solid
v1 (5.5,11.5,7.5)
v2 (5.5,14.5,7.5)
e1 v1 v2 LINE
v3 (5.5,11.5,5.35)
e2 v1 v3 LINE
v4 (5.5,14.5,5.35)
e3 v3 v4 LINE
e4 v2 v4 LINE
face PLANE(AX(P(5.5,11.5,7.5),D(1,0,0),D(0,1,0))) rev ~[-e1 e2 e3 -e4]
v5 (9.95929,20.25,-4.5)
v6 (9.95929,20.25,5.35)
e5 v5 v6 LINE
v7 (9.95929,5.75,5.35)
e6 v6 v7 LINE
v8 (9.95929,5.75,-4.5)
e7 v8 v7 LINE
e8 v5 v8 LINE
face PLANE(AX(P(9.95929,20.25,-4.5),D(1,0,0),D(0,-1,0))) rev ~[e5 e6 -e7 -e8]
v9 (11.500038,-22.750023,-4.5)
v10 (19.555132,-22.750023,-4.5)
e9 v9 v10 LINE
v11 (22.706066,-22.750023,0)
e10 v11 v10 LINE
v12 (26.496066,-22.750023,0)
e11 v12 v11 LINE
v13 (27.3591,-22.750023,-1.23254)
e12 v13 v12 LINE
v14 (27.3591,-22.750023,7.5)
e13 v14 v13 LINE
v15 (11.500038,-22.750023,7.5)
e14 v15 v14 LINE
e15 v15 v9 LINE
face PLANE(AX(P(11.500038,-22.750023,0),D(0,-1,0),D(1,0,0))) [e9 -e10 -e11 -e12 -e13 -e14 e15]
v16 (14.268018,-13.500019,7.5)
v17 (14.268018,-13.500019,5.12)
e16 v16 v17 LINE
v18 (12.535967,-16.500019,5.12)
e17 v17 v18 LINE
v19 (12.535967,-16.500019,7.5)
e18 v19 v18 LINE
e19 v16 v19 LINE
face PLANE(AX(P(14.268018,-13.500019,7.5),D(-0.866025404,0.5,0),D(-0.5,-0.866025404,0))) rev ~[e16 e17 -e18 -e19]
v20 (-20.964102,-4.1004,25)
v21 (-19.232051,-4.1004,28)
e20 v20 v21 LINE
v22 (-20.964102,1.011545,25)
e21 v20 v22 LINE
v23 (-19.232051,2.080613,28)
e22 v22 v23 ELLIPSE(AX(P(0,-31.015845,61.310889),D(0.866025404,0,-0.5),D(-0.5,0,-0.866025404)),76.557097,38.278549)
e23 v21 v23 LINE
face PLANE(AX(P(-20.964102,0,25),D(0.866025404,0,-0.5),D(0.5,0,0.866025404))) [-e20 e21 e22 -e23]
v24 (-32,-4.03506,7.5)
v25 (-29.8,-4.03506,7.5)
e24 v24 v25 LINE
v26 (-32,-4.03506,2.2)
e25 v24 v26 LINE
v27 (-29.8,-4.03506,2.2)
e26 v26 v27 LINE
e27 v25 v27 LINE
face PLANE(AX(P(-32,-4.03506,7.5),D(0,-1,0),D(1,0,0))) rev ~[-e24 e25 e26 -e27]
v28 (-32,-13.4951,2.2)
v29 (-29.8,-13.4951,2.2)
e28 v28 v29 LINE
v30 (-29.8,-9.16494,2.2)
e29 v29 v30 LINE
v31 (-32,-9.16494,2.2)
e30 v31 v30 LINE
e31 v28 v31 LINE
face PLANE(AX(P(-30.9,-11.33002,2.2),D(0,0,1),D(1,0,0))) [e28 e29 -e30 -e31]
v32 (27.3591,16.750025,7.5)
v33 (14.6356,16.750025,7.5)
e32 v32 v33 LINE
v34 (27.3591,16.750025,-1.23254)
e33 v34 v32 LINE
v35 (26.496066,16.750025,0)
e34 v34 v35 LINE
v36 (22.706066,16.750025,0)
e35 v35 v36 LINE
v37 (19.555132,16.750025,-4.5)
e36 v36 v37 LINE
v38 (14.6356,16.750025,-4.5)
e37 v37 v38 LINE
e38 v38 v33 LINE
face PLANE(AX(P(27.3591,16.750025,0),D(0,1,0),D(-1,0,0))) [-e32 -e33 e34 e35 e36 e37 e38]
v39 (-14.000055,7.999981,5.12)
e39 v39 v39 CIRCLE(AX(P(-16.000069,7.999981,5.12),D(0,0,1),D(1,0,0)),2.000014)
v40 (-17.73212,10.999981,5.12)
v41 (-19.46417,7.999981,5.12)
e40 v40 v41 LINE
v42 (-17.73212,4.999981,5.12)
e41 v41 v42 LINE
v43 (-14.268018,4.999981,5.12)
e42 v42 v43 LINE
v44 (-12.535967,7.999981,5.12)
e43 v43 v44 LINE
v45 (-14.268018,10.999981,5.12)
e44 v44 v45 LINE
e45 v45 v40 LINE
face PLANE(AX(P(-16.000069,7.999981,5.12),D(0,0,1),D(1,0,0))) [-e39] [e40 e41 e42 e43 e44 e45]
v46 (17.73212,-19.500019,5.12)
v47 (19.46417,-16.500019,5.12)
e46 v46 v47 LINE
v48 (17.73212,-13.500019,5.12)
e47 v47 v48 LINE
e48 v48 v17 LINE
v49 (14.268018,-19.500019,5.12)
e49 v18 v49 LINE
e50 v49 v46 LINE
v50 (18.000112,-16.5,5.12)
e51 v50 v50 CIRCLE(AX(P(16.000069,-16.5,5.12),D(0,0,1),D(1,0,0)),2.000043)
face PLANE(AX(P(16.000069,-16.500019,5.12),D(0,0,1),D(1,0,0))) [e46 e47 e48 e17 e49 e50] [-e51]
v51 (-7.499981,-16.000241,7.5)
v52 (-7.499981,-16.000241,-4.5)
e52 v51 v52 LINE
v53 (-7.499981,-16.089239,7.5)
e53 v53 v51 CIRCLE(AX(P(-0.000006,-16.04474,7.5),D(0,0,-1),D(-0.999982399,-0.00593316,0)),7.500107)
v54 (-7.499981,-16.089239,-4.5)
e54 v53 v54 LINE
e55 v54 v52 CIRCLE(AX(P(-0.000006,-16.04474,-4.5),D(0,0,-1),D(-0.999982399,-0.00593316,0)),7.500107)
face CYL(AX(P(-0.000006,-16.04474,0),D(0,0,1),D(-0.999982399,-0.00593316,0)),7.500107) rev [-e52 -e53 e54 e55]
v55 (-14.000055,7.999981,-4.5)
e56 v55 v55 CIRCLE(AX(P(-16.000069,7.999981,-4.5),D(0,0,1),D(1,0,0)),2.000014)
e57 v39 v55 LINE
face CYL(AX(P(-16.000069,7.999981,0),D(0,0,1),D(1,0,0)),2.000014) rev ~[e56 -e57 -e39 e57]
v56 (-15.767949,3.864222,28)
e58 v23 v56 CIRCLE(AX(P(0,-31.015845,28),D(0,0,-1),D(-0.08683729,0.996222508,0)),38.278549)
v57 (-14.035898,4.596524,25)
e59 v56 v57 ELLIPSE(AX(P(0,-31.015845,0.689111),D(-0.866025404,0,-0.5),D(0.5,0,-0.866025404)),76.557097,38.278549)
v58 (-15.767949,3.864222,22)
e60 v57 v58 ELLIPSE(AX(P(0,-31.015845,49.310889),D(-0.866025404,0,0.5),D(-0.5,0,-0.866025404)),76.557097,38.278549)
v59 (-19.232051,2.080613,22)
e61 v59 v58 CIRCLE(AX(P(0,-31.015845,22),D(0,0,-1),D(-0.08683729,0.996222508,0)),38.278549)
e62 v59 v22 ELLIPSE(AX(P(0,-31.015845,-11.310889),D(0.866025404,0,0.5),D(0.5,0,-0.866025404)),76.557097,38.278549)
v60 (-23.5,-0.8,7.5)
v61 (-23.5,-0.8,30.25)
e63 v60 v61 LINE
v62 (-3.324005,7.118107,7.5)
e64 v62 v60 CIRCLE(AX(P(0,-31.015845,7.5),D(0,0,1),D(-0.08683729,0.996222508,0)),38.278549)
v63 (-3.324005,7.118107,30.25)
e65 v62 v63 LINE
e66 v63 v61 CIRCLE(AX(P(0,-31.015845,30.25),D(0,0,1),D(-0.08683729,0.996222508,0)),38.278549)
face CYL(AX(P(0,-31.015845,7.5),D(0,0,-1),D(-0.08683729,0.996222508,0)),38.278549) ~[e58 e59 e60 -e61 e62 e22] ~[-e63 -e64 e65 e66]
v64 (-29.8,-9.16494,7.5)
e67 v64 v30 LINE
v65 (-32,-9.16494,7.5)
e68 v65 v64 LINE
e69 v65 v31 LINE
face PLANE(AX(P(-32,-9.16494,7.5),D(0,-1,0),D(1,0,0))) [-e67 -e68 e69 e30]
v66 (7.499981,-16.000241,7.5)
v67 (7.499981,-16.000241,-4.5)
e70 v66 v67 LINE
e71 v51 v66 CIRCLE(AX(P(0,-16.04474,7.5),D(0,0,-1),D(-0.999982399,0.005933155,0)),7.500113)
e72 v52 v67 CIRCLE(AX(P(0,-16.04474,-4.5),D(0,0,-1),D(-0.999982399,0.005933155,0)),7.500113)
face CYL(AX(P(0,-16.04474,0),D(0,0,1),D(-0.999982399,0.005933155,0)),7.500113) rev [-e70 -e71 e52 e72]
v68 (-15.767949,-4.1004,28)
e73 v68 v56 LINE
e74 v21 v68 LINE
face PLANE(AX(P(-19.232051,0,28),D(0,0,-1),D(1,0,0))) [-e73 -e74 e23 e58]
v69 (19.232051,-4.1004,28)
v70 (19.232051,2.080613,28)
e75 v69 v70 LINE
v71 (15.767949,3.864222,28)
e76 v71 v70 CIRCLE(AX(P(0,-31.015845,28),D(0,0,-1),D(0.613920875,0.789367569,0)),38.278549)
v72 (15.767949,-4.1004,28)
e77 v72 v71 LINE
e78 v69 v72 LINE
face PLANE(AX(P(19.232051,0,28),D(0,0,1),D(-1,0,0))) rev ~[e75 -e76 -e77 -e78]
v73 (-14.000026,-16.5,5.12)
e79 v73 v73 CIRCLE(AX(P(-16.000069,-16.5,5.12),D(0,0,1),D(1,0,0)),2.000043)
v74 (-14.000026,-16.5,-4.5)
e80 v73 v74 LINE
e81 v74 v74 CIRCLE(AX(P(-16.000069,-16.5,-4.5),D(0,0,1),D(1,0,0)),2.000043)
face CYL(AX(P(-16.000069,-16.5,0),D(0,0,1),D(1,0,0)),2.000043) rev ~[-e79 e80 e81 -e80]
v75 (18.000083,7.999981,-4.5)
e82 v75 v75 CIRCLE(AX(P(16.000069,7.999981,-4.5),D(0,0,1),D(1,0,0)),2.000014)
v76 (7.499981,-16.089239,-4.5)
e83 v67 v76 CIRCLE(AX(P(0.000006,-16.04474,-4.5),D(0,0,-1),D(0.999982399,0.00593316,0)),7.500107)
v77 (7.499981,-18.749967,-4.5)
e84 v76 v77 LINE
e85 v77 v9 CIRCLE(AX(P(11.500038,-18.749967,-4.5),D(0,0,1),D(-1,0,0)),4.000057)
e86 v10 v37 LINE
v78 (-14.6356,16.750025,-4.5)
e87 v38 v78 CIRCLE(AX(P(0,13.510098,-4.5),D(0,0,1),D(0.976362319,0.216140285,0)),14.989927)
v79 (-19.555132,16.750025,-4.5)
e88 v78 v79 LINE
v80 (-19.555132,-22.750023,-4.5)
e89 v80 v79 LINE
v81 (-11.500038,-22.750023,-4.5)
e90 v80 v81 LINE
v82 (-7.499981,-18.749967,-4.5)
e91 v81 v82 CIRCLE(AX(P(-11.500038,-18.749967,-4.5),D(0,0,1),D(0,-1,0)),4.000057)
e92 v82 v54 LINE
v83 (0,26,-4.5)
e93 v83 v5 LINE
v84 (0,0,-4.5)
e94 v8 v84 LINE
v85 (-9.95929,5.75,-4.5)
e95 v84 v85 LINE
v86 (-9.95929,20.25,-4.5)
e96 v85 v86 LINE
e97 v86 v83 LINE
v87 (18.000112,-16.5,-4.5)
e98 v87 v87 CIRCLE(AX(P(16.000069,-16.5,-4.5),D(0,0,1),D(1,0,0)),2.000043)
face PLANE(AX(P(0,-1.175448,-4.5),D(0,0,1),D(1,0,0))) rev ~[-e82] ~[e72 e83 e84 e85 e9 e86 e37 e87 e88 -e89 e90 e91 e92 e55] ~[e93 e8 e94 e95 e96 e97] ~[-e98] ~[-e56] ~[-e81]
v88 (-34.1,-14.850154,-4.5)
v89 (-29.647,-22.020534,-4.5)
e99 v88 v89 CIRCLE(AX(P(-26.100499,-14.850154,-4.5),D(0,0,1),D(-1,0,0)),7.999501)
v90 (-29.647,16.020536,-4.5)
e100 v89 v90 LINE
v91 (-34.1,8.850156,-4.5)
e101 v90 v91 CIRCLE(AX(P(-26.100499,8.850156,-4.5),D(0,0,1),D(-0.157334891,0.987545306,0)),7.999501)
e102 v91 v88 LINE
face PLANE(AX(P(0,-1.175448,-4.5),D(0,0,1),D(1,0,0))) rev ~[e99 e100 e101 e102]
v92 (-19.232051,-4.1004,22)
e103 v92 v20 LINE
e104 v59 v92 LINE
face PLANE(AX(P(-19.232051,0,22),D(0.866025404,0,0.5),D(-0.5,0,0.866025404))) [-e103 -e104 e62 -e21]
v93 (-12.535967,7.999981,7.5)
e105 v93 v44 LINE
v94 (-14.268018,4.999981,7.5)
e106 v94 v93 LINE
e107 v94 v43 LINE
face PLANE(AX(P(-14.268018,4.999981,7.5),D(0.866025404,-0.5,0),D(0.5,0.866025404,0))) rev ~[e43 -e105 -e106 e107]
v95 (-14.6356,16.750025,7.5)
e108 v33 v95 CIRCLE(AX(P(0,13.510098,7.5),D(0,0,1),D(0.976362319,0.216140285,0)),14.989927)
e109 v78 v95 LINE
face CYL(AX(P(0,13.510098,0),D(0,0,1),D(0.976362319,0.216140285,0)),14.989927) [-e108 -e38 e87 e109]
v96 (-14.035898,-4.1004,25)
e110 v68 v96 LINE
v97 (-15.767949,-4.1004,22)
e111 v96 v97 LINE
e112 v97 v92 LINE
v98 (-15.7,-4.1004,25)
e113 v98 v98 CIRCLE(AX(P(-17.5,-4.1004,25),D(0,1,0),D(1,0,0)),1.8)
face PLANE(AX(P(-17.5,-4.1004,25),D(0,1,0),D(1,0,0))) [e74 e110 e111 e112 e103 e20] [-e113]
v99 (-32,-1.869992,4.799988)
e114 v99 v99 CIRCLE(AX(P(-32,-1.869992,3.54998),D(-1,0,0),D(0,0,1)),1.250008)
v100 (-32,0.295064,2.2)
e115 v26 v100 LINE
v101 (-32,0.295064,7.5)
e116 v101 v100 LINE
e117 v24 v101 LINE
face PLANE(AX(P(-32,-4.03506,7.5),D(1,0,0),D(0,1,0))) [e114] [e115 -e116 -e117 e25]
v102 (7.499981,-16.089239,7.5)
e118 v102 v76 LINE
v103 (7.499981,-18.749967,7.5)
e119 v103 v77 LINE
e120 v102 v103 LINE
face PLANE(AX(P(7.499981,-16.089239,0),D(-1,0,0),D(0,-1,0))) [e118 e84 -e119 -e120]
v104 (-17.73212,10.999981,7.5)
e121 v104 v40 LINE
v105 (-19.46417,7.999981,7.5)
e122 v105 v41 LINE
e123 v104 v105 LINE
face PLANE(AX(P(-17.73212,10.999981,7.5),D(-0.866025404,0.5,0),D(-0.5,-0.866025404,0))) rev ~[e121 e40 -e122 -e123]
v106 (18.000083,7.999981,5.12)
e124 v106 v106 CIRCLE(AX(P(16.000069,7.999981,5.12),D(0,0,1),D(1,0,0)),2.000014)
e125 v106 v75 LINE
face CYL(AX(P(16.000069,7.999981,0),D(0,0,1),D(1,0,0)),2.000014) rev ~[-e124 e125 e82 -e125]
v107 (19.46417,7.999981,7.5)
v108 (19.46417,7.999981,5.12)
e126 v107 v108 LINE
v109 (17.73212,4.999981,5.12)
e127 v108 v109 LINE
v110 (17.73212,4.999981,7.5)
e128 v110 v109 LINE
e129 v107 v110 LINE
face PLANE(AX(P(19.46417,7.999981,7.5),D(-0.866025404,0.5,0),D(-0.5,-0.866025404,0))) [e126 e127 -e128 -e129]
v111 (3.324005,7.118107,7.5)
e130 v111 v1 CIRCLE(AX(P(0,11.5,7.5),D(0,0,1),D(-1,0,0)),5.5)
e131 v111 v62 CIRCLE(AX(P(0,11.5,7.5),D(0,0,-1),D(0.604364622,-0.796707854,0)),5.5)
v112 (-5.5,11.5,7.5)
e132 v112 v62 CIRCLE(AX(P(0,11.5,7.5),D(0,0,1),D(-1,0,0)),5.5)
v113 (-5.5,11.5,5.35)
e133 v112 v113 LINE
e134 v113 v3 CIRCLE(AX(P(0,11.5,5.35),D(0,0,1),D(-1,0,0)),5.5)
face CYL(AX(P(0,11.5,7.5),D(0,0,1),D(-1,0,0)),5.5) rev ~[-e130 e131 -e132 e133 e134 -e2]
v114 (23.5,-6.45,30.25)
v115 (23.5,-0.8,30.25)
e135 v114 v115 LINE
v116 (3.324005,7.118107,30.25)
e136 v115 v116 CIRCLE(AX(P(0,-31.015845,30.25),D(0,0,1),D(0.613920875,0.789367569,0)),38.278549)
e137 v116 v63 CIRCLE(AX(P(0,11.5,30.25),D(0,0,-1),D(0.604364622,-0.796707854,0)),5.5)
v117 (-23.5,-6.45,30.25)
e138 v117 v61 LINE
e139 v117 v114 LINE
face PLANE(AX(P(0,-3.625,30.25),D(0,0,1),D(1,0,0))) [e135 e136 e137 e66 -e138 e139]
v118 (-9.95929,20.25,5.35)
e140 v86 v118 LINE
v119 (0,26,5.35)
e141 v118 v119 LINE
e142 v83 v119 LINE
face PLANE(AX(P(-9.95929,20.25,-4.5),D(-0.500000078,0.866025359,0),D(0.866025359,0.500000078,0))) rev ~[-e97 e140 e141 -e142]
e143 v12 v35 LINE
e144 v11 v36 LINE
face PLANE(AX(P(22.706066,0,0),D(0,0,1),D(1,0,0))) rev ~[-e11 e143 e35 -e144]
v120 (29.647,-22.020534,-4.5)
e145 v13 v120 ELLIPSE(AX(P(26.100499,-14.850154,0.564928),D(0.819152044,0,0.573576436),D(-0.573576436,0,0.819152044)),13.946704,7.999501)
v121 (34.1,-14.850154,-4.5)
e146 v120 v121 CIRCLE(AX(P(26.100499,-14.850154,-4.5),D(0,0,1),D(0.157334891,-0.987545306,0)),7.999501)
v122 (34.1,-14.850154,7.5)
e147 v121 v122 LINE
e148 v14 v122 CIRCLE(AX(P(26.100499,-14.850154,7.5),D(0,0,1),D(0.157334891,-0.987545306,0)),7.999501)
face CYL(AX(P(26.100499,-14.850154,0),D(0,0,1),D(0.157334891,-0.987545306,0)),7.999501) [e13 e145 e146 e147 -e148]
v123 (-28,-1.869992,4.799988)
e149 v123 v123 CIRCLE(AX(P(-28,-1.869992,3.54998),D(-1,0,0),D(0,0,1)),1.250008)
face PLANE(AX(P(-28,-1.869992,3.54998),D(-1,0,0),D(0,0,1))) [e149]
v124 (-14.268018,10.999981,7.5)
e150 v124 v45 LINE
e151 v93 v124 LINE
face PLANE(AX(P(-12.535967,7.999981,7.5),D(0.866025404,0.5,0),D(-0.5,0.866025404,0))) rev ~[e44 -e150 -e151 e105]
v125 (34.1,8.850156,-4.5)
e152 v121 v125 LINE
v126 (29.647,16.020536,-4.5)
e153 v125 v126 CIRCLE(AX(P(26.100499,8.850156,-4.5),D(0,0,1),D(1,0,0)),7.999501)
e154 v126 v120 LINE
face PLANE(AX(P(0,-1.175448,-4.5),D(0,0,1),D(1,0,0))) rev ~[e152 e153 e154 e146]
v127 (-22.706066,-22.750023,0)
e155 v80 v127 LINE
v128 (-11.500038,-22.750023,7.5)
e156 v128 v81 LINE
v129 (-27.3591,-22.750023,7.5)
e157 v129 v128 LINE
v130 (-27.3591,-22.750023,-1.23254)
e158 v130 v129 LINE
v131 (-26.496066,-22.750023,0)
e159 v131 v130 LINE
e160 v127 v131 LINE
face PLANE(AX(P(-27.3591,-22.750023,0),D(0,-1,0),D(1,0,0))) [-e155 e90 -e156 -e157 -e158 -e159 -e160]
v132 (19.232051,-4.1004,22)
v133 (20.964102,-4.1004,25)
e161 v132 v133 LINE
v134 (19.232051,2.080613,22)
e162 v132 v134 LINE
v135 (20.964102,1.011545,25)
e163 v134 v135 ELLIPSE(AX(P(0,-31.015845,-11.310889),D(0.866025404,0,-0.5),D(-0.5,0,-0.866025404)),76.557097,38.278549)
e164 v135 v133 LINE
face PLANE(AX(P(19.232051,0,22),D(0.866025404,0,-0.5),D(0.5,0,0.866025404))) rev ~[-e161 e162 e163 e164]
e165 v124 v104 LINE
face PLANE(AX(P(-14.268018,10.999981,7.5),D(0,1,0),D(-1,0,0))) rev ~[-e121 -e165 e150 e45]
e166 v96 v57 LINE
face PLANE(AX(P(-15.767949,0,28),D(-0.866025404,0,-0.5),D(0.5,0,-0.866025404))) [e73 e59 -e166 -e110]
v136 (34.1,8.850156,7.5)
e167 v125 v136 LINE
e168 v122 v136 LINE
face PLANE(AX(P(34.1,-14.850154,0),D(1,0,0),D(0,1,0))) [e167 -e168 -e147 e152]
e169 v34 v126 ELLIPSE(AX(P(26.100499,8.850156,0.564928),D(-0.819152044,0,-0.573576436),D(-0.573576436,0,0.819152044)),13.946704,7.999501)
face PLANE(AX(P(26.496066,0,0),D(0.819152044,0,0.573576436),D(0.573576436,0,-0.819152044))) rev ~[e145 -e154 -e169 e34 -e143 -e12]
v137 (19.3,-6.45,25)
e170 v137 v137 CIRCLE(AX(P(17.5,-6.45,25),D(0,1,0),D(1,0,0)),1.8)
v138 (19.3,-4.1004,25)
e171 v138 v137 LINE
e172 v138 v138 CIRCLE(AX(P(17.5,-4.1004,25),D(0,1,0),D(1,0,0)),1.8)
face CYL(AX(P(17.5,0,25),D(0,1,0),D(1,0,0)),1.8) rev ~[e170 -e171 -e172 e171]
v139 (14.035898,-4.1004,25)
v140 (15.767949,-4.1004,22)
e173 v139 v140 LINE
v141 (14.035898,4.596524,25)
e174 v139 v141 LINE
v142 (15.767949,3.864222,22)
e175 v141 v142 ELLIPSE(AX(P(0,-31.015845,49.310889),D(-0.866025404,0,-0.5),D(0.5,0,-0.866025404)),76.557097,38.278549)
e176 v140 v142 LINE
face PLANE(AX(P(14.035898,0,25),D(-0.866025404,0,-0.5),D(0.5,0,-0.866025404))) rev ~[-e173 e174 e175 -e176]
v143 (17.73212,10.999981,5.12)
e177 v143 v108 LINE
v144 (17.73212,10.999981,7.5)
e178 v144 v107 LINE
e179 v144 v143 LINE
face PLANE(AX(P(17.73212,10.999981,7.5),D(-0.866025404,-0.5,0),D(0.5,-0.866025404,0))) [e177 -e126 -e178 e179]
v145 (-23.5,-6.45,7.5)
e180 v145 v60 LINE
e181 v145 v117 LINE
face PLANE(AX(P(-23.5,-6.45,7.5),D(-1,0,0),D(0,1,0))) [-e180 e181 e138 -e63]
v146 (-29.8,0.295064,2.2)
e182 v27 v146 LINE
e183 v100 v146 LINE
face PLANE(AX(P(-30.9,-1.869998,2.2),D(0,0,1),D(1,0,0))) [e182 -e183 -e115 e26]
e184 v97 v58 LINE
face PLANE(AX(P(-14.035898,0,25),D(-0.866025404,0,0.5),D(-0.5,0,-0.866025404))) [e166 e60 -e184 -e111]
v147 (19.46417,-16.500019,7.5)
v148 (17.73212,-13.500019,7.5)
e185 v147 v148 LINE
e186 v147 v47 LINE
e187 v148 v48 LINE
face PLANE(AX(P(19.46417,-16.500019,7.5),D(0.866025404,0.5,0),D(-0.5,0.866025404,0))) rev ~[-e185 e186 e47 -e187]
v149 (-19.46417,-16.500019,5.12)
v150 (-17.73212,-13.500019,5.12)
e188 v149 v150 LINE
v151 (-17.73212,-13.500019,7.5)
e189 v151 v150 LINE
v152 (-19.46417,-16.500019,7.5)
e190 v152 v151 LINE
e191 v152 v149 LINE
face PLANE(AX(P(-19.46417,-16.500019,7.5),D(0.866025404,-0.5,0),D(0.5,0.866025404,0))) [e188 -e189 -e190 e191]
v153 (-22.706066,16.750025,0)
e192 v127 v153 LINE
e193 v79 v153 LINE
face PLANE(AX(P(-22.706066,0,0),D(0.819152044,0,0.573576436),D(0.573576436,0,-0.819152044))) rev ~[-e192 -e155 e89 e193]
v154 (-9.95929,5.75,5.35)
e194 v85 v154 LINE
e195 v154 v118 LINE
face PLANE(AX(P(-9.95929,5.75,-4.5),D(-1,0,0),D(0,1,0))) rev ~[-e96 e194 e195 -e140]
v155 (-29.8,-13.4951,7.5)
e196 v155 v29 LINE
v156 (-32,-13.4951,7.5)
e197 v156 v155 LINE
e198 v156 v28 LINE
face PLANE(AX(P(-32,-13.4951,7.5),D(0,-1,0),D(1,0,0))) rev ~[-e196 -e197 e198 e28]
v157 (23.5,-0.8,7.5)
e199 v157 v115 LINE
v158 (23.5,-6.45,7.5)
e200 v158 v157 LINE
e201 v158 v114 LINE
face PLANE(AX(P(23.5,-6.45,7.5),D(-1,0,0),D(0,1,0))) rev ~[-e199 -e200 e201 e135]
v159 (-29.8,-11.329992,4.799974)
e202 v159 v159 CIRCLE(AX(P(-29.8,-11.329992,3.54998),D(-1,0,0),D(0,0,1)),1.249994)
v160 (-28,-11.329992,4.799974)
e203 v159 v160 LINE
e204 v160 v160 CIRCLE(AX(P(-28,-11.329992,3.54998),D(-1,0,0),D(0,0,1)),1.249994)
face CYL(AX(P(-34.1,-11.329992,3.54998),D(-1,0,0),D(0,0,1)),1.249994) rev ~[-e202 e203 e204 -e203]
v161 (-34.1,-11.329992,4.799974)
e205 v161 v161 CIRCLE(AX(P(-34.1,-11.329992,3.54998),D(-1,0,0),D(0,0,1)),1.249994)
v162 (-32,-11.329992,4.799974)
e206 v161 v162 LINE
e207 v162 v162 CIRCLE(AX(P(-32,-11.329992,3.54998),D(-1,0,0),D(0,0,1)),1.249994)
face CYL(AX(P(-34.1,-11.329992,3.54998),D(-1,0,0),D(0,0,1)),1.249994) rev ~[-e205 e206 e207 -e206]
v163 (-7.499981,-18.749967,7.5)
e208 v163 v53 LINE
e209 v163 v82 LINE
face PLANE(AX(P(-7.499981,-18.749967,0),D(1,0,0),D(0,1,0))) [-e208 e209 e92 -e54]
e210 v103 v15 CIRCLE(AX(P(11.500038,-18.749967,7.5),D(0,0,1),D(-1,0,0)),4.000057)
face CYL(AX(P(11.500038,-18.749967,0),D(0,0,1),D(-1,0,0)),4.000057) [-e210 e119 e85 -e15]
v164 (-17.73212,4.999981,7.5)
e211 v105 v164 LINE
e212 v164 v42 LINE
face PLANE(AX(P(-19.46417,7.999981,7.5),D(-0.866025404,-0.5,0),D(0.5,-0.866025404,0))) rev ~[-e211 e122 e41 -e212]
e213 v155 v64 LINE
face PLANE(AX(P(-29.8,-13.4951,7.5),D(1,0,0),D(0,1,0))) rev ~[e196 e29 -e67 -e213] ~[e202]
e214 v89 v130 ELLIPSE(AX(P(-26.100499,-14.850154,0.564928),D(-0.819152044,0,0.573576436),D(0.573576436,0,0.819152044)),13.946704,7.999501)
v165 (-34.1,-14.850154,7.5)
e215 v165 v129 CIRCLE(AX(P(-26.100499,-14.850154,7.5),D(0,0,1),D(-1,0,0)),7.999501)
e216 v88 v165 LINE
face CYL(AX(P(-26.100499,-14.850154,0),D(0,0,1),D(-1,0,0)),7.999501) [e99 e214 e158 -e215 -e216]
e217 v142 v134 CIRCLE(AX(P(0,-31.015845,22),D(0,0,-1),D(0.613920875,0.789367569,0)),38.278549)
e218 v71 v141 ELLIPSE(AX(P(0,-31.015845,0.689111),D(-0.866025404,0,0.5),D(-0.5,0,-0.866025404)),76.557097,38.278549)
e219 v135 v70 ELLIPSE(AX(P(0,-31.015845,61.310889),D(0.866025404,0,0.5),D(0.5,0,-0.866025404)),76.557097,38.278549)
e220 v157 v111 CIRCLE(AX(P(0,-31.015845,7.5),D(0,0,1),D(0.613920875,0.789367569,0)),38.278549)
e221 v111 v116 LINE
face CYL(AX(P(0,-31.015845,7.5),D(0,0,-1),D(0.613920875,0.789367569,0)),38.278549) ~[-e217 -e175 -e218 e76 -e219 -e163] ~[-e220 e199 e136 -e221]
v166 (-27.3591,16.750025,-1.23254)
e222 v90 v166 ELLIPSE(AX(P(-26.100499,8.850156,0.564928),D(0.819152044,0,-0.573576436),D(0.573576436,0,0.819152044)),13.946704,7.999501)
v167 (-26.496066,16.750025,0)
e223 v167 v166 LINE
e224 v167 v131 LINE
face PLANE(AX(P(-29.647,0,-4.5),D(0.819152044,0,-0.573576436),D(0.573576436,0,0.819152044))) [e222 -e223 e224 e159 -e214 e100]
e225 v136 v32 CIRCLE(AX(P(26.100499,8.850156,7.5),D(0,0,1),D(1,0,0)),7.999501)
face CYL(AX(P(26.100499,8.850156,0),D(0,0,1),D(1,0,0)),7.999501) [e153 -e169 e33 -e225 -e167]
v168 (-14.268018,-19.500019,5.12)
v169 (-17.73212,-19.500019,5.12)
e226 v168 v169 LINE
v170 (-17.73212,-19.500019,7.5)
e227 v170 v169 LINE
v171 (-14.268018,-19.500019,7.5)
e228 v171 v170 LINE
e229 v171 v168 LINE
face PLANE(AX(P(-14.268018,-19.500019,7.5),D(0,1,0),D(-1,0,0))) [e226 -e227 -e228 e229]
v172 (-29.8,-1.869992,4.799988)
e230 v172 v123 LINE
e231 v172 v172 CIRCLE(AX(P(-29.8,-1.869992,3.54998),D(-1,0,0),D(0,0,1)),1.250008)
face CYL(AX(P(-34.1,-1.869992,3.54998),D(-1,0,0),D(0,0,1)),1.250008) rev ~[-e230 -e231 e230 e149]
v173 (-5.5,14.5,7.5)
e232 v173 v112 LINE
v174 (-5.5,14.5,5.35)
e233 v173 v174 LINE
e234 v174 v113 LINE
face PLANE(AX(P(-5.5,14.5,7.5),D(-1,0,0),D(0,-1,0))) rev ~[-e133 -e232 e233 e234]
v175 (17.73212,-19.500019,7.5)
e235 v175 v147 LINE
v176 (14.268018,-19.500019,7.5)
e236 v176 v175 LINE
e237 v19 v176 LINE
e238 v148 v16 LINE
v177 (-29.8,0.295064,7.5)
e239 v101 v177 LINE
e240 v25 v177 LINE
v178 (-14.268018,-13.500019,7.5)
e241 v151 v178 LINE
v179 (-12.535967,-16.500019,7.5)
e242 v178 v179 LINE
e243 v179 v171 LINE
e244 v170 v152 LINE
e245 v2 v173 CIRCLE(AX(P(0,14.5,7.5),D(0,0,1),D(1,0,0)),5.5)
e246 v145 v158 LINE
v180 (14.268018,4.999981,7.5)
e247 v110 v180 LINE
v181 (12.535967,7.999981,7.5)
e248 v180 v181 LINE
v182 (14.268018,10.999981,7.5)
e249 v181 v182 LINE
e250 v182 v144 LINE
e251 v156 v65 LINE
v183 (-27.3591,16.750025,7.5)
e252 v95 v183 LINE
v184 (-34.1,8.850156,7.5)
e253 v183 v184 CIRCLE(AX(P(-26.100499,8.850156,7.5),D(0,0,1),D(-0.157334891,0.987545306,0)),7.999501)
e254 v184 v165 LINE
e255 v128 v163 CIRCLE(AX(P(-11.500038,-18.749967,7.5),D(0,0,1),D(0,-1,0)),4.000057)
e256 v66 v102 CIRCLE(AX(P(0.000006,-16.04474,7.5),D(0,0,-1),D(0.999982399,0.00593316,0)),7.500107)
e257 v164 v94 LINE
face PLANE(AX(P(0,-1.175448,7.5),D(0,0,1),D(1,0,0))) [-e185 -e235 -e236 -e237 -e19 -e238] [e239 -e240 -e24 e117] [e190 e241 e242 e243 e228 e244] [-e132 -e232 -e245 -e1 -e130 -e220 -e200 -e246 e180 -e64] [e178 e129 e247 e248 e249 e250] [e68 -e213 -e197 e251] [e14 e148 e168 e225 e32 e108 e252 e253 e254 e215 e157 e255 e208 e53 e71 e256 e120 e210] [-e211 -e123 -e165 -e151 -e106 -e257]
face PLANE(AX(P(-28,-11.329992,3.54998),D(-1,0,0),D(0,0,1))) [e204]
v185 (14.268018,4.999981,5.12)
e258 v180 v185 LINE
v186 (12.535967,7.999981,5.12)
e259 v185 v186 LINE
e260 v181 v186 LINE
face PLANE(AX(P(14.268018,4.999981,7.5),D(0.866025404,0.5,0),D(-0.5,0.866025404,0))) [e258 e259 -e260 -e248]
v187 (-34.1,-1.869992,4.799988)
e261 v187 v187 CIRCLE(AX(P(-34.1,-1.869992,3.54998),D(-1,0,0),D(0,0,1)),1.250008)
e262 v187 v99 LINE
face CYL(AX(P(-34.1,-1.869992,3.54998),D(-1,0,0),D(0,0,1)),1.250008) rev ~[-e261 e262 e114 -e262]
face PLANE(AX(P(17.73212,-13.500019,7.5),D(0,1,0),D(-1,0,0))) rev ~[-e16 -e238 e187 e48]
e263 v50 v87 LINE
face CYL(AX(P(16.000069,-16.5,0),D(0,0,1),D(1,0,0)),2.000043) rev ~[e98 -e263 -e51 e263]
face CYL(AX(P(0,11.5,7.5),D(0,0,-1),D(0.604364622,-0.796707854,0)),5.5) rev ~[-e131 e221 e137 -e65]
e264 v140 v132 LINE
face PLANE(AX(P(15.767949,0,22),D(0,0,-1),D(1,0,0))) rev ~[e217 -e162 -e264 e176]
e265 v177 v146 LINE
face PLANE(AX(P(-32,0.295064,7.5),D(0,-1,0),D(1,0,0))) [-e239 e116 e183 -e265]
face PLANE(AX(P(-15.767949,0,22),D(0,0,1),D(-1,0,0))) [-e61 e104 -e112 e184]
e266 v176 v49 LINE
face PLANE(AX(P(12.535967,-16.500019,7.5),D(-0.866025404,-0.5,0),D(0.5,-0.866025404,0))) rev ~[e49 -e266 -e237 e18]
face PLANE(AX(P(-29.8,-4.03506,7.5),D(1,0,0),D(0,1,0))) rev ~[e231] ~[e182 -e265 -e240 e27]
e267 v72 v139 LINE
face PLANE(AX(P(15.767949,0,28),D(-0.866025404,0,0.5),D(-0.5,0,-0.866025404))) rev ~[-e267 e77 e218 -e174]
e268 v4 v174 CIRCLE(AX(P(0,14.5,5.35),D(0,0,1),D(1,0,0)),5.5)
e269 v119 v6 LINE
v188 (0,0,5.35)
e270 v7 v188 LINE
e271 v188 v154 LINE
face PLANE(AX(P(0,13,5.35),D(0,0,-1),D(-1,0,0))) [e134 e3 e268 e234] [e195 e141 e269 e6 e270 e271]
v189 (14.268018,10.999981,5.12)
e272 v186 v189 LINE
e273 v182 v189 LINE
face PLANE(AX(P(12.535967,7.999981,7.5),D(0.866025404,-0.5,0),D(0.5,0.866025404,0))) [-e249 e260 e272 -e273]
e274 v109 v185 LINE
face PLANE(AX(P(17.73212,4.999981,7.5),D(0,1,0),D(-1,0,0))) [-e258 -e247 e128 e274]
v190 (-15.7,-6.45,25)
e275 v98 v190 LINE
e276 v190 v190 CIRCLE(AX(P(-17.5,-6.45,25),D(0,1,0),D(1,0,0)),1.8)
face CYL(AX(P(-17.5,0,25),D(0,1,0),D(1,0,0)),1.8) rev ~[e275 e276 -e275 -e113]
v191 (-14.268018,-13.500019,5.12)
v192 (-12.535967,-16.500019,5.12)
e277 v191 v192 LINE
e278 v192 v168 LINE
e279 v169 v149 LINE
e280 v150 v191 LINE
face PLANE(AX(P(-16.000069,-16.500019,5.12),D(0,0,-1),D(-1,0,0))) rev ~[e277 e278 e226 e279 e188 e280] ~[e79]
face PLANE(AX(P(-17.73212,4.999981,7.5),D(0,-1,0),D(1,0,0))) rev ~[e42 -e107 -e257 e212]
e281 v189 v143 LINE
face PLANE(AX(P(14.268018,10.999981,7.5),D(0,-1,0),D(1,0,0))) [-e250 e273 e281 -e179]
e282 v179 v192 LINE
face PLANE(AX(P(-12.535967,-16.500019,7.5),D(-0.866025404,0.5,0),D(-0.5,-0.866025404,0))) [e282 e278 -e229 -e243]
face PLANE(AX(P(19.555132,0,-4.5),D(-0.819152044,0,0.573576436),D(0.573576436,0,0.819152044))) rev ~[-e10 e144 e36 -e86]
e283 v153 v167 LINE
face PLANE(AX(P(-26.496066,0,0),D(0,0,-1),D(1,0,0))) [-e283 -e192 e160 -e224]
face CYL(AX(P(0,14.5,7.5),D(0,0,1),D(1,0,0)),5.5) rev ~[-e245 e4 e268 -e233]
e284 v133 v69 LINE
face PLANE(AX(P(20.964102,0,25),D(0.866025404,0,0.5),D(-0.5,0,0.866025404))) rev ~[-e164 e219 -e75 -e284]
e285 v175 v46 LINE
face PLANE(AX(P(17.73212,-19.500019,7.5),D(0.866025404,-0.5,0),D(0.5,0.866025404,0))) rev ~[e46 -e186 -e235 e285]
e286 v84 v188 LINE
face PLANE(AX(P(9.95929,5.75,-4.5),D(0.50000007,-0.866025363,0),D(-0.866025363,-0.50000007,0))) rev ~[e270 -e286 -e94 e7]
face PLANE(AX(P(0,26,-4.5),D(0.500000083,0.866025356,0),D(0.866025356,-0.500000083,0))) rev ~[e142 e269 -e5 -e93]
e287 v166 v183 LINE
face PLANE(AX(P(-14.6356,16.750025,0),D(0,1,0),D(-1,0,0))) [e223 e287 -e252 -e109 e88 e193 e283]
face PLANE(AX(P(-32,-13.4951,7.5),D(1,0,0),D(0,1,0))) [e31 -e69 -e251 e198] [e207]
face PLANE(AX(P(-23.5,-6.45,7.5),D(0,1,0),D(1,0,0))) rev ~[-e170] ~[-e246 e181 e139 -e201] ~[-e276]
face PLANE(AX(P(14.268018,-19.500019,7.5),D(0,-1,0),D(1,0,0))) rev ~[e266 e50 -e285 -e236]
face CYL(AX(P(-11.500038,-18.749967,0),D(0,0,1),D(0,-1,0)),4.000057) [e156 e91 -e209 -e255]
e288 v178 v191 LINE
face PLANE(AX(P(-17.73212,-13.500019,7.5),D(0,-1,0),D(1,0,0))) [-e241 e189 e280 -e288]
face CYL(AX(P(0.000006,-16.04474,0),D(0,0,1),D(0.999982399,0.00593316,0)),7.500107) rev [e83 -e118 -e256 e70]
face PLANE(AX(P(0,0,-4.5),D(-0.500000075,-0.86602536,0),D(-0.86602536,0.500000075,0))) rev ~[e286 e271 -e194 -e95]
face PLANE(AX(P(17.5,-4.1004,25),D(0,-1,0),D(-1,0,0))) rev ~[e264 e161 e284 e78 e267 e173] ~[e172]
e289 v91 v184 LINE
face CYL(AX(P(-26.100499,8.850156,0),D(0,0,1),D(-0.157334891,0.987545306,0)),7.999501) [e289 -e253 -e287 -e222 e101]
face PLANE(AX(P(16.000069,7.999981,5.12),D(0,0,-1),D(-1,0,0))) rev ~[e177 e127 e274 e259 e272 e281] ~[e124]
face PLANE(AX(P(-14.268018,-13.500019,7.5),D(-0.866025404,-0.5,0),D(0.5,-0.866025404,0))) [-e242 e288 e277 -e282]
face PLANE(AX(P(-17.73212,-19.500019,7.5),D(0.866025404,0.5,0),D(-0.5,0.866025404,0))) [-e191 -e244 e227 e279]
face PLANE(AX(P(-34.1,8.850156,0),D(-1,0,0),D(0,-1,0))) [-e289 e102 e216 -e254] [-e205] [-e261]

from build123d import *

# Parameters (mm, degrees)
SKETCH1_R                = 2.000043321
SKETCH1_R_2              = 2.000014119
BOSS_EXTRUDE1_DEPTH      = 7.5
BOSS_EXTRUDE1_DEPTH_BACK = 4.5
CUT_EXTRUDE2_DEPTH       = 13
SKETCH3_R                = 2.000014119
SKETCH3_R_2              = 2.000043321
CUT_EXTRUDE3_DEPTH       = 2.38
SKETCH6_W                = 47
SKETCH6_H                = 5.65
BOSS_EXTRUDE2_DEPTH      = 22.75
SKETCH9_R                = 1.8
CUT_EXTRUDE5_DEPTH       = 22.75
CUT_EXTRUDE5_DEPTH_BACK  = 23.750023286
CUT_EXTRUDE6_DEPTH       = 22.75
CUT_EXTRUDE6_DEPTH_BACK  = 4.1004
SKETCH11_R               = 1.250008473
SKETCH11_R_2             = 1.24999389
CUT_EXTRUDE8_DEPTH       = 6.1
SKETCH13_W               = 2.2
SKETCH13_H               = 4.330124
SKETCH13_H_2             = 4.33016
CUT_EXTRUDE9_DEPTH       = 5.3
CUT_EXTRUDE10_DEPTH      = 9.85


with BuildPart() as part:
    # Sketch1 → Boss-Extrude1 (new body, two sides)
    with BuildSketch(Plane.XY) as boss_extrude1_sk:
        with BuildLine():
            ThreePointArc((27.3591, -22.750023286), (32.18573506, -20.04264062), (34.100000001, -14.850154064))
            Line((34.100000001, -14.850154064), (34.100000001, 8.850156137))
            ThreePointArc((34.100000001, 8.850156137), (32.18573506, 14.042642693), (27.3591, 16.750025358))
            Line((27.3591, 16.750025358), (14.6356, 16.750025358))
            ThreePointArc((14.6356, 16.750025358), (0, 28.500025358), (-14.6356, 16.750025358))
            Line((-14.6356, 16.750025358), (-27.3591, 16.750025358))
            ThreePointArc((-27.3591, 16.750025358), (-32.18573506, 14.042642693), (-34.100000001, 8.850156137))
            Line((-34.100000001, 8.850156137), (-34.100000001, -14.850154064))
            ThreePointArc((-34.100000001, -14.850154064), (-32.18573506, -20.04264062), (-27.3591, -22.750023286))
            Line((-27.3591, -22.750023286), (-11.500037792, -22.750023286))
            ThreePointArc((-11.500037792, -22.750023286), (-8.671570628, -21.578433826), (-7.499981167, -18.749966661))
            Line((-7.499981167, -18.749966661), (-7.499981167, -16.089239323))
            ThreePointArc((-7.499981167, -16.089239323), (-7.500113179, -16.044739987), (-7.499981167, -16.000240651))
            ThreePointArc((-7.499981167, -16.000240651), (0, -8.544626807), (7.499981167, -16.000240651))
            ThreePointArc((7.499981167, -16.000240651), (7.500113179, -16.044739987), (7.499981167, -16.089239323))
            Line((7.499981167, -16.089239323), (7.499981167, -18.749966661))
            ThreePointArc((7.499981167, -18.749966661), (8.671570628, -21.578433826), (11.500037792, -22.750023286))
            Line((11.500037792, -22.750023286), (27.3591, -22.750023286))
        make_face()
        with Locations((-16.000068831, -16.5)):
            Circle(SKETCH1_R, mode=Mode.SUBTRACT)
        with Locations((16.000068831, -16.5)):
            Circle(SKETCH1_R, mode=Mode.SUBTRACT)
        with Locations((-16.000068831, 7.999981023)):
            Circle(SKETCH1_R_2, mode=Mode.SUBTRACT)
        with Locations((16.000068831, 7.999981023)):
            Circle(SKETCH1_R_2, mode=Mode.SUBTRACT)
    extrude(amount=BOSS_EXTRUDE1_DEPTH)
    extrude(boss_extrude1_sk.sketch, amount=-BOSS_EXTRUDE1_DEPTH_BACK)

    # Sketch4 → Cut-Extrude2 (cut, through all)
    with BuildSketch(Plane.XY.offset(7.5)):
        with BuildLine():
            Line((5.5, 11.5), (5.5, 14.5))
            ThreePointArc((5.5, 14.5), (0, 20), (-5.5, 14.5))
            Line((-5.5, 14.5), (-5.5, 11.5))
            ThreePointArc((-5.5, 11.5), (0, 6), (5.5, 11.5))
        make_face()
    extrude(amount=-CUT_EXTRUDE2_DEPTH, mode=Mode.SUBTRACT)

    # Sketch3 → Cut-Extrude3 (cut)
    with BuildSketch(Plane.XY.offset(7.5)):
        Polygon((-14.268018024, 10.999981023), (-17.732119639, 10.999981023), (-19.464170446, 7.999981023), (-17.732119639, 4.999981023), (-14.268018024, 4.999981023), (-12.535967216, 7.999981023), align=None)
        with Locations((-16.000068831, 7.999981023)):
            Circle(SKETCH3_R, mode=Mode.SUBTRACT)
        Polygon((14.268018024, 10.999981023), (17.732119639, 10.999981023), (19.464170446, 7.999981023), (17.732119639, 4.999981023), (14.268018024, 4.999981023), (12.535967216, 7.999981023), align=None)
        with Locations((16.000068831, 7.999981023)):
            Circle(SKETCH3_R, mode=Mode.SUBTRACT)
        Polygon((-14.268018024, -19.500018977), (-17.732119639, -19.500018977), (-19.464170446, -16.500018977), (-17.732119639, -13.500018977), (-14.268018024, -13.500018977), (-12.535967216, -16.500018977), align=None)
        with Locations((-16.000068831, -16.5)):
            Circle(SKETCH3_R_2, mode=Mode.SUBTRACT)
        Polygon((12.535967216, -16.500018977), (14.268018024, -19.500018977), (17.732119639, -19.500018977), (19.464170446, -16.500018977), (17.732119639, -13.500018977), (14.268018024, -13.500018977), align=None)
        with Locations((16.000068831, -16.5)):
            Circle(SKETCH3_R_2, mode=Mode.SUBTRACT)
    extrude(amount=-CUT_EXTRUDE3_DEPTH, mode=Mode.SUBTRACT)

    # Sketch6 → Boss-Extrude2 (add)
    with BuildSketch(Plane.XY.offset(7.5)):
        with Locations((0, -3.625)):
            Rectangle(SKETCH6_W, SKETCH6_H)
        with BuildLine():
            Line((-23.5, -0.8), (23.5, -0.8))
            ThreePointArc((23.5, -0.8), (13.984131025, 4.616883926), (3.324005419, 7.118106805))
            ThreePointArc((3.324005419, 7.118106805), (0, 6), (-3.324005419, 7.118106805))
            ThreePointArc((-3.324005419, 7.118106805), (-13.984131025, 4.616883926), (-23.5, -0.8))
        make_face()
    extrude(amount=BOSS_EXTRUDE2_DEPTH)

    # Sketch9 → Cut-Extrude5 (cut, two sides)
    with BuildSketch(Plane(origin=(0, 0, 0), x_dir=(1, 0, 0), z_dir=(0, 1, 0))) as cut_extrude5_sk:
        Polygon((19.555132158, 4.5), (22.70606608, 0), (26.49606608, 0), (29.647000001, 4.5), align=None)
        Polygon((-19.555132158, 4.5), (-29.647000001, 4.5), (-26.49606608, 0), (-22.70606608, 0), align=None)
        with Locations((17.5, -25)):
            Circle(SKETCH9_R)
        with Locations((-17.5, -25)):
            Circle(SKETCH9_R)
    extrude(amount=CUT_EXTRUDE5_DEPTH, mode=Mode.SUBTRACT)
    extrude(cut_extrude5_sk.sketch, amount=-CUT_EXTRUDE5_DEPTH_BACK, mode=Mode.SUBTRACT)

    # Sketch9_7 → Cut-Extrude6 (cut, two sides)
    with BuildSketch(Plane(origin=(0, 0, 0), x_dir=(1, 0, 0), z_dir=(0, 1, 0))) as cut_extrude6_sk:
        Polygon((-19.232050808, -22), (-20.964101615, -25), (-19.232050808, -28), (-15.767949192, -28), (-14.035898385, -25), (-15.767949192, -22), align=None)
        Polygon((20.964101615, -25), (19.232050808, -28), (15.767949192, -28), (14.035898385, -25), (15.767949192, -22), (19.232050808, -22), align=None)
    extrude(amount=CUT_EXTRUDE6_DEPTH, mode=Mode.SUBTRACT)
    extrude(cut_extrude6_sk.sketch, amount=-CUT_EXTRUDE6_DEPTH_BACK, mode=Mode.SUBTRACT)

    # Sketch11 → Cut-Extrude8 (cut)
    with BuildSketch(Plane.ZY.offset(34.100000001)):
        with Locations((3.549979666, -1.86999177)):
            Circle(SKETCH11_R)
        with Locations((3.549979666, -11.329991983)):
            Circle(SKETCH11_R_2)
    extrude(amount=-CUT_EXTRUDE8_DEPTH, mode=Mode.SUBTRACT)

    # Sketch13 → Cut-Extrude9 (cut)
    with BuildSketch(Plane.XY.offset(7.5)):
        with Locations((-30.9, -1.869998)):
            Rectangle(SKETCH13_W, SKETCH13_H)
        with Locations((-30.9, -11.33002)):
            Rectangle(SKETCH13_W, SKETCH13_H_2)
    extrude(amount=-CUT_EXTRUDE9_DEPTH, mode=Mode.SUBTRACT)

    # Sketch15 → Cut-Extrude10 (cut)
    with BuildSketch(Plane(origin=(0, 0, -4.5), x_dir=(-1, 0, 0), z_dir=(0, 0, -1))):
        Polygon((-7.2e-08, 26), (-9.95929, 20.25), (-9.95929, 5.75), (7.2e-08, 1.24e-07), (9.95929, 5.75), (9.95929, 20.25), align=None)
    extrude(amount=-CUT_EXTRUDE10_DEPTH, mode=Mode.SUBTRACT)


solid = part.part
